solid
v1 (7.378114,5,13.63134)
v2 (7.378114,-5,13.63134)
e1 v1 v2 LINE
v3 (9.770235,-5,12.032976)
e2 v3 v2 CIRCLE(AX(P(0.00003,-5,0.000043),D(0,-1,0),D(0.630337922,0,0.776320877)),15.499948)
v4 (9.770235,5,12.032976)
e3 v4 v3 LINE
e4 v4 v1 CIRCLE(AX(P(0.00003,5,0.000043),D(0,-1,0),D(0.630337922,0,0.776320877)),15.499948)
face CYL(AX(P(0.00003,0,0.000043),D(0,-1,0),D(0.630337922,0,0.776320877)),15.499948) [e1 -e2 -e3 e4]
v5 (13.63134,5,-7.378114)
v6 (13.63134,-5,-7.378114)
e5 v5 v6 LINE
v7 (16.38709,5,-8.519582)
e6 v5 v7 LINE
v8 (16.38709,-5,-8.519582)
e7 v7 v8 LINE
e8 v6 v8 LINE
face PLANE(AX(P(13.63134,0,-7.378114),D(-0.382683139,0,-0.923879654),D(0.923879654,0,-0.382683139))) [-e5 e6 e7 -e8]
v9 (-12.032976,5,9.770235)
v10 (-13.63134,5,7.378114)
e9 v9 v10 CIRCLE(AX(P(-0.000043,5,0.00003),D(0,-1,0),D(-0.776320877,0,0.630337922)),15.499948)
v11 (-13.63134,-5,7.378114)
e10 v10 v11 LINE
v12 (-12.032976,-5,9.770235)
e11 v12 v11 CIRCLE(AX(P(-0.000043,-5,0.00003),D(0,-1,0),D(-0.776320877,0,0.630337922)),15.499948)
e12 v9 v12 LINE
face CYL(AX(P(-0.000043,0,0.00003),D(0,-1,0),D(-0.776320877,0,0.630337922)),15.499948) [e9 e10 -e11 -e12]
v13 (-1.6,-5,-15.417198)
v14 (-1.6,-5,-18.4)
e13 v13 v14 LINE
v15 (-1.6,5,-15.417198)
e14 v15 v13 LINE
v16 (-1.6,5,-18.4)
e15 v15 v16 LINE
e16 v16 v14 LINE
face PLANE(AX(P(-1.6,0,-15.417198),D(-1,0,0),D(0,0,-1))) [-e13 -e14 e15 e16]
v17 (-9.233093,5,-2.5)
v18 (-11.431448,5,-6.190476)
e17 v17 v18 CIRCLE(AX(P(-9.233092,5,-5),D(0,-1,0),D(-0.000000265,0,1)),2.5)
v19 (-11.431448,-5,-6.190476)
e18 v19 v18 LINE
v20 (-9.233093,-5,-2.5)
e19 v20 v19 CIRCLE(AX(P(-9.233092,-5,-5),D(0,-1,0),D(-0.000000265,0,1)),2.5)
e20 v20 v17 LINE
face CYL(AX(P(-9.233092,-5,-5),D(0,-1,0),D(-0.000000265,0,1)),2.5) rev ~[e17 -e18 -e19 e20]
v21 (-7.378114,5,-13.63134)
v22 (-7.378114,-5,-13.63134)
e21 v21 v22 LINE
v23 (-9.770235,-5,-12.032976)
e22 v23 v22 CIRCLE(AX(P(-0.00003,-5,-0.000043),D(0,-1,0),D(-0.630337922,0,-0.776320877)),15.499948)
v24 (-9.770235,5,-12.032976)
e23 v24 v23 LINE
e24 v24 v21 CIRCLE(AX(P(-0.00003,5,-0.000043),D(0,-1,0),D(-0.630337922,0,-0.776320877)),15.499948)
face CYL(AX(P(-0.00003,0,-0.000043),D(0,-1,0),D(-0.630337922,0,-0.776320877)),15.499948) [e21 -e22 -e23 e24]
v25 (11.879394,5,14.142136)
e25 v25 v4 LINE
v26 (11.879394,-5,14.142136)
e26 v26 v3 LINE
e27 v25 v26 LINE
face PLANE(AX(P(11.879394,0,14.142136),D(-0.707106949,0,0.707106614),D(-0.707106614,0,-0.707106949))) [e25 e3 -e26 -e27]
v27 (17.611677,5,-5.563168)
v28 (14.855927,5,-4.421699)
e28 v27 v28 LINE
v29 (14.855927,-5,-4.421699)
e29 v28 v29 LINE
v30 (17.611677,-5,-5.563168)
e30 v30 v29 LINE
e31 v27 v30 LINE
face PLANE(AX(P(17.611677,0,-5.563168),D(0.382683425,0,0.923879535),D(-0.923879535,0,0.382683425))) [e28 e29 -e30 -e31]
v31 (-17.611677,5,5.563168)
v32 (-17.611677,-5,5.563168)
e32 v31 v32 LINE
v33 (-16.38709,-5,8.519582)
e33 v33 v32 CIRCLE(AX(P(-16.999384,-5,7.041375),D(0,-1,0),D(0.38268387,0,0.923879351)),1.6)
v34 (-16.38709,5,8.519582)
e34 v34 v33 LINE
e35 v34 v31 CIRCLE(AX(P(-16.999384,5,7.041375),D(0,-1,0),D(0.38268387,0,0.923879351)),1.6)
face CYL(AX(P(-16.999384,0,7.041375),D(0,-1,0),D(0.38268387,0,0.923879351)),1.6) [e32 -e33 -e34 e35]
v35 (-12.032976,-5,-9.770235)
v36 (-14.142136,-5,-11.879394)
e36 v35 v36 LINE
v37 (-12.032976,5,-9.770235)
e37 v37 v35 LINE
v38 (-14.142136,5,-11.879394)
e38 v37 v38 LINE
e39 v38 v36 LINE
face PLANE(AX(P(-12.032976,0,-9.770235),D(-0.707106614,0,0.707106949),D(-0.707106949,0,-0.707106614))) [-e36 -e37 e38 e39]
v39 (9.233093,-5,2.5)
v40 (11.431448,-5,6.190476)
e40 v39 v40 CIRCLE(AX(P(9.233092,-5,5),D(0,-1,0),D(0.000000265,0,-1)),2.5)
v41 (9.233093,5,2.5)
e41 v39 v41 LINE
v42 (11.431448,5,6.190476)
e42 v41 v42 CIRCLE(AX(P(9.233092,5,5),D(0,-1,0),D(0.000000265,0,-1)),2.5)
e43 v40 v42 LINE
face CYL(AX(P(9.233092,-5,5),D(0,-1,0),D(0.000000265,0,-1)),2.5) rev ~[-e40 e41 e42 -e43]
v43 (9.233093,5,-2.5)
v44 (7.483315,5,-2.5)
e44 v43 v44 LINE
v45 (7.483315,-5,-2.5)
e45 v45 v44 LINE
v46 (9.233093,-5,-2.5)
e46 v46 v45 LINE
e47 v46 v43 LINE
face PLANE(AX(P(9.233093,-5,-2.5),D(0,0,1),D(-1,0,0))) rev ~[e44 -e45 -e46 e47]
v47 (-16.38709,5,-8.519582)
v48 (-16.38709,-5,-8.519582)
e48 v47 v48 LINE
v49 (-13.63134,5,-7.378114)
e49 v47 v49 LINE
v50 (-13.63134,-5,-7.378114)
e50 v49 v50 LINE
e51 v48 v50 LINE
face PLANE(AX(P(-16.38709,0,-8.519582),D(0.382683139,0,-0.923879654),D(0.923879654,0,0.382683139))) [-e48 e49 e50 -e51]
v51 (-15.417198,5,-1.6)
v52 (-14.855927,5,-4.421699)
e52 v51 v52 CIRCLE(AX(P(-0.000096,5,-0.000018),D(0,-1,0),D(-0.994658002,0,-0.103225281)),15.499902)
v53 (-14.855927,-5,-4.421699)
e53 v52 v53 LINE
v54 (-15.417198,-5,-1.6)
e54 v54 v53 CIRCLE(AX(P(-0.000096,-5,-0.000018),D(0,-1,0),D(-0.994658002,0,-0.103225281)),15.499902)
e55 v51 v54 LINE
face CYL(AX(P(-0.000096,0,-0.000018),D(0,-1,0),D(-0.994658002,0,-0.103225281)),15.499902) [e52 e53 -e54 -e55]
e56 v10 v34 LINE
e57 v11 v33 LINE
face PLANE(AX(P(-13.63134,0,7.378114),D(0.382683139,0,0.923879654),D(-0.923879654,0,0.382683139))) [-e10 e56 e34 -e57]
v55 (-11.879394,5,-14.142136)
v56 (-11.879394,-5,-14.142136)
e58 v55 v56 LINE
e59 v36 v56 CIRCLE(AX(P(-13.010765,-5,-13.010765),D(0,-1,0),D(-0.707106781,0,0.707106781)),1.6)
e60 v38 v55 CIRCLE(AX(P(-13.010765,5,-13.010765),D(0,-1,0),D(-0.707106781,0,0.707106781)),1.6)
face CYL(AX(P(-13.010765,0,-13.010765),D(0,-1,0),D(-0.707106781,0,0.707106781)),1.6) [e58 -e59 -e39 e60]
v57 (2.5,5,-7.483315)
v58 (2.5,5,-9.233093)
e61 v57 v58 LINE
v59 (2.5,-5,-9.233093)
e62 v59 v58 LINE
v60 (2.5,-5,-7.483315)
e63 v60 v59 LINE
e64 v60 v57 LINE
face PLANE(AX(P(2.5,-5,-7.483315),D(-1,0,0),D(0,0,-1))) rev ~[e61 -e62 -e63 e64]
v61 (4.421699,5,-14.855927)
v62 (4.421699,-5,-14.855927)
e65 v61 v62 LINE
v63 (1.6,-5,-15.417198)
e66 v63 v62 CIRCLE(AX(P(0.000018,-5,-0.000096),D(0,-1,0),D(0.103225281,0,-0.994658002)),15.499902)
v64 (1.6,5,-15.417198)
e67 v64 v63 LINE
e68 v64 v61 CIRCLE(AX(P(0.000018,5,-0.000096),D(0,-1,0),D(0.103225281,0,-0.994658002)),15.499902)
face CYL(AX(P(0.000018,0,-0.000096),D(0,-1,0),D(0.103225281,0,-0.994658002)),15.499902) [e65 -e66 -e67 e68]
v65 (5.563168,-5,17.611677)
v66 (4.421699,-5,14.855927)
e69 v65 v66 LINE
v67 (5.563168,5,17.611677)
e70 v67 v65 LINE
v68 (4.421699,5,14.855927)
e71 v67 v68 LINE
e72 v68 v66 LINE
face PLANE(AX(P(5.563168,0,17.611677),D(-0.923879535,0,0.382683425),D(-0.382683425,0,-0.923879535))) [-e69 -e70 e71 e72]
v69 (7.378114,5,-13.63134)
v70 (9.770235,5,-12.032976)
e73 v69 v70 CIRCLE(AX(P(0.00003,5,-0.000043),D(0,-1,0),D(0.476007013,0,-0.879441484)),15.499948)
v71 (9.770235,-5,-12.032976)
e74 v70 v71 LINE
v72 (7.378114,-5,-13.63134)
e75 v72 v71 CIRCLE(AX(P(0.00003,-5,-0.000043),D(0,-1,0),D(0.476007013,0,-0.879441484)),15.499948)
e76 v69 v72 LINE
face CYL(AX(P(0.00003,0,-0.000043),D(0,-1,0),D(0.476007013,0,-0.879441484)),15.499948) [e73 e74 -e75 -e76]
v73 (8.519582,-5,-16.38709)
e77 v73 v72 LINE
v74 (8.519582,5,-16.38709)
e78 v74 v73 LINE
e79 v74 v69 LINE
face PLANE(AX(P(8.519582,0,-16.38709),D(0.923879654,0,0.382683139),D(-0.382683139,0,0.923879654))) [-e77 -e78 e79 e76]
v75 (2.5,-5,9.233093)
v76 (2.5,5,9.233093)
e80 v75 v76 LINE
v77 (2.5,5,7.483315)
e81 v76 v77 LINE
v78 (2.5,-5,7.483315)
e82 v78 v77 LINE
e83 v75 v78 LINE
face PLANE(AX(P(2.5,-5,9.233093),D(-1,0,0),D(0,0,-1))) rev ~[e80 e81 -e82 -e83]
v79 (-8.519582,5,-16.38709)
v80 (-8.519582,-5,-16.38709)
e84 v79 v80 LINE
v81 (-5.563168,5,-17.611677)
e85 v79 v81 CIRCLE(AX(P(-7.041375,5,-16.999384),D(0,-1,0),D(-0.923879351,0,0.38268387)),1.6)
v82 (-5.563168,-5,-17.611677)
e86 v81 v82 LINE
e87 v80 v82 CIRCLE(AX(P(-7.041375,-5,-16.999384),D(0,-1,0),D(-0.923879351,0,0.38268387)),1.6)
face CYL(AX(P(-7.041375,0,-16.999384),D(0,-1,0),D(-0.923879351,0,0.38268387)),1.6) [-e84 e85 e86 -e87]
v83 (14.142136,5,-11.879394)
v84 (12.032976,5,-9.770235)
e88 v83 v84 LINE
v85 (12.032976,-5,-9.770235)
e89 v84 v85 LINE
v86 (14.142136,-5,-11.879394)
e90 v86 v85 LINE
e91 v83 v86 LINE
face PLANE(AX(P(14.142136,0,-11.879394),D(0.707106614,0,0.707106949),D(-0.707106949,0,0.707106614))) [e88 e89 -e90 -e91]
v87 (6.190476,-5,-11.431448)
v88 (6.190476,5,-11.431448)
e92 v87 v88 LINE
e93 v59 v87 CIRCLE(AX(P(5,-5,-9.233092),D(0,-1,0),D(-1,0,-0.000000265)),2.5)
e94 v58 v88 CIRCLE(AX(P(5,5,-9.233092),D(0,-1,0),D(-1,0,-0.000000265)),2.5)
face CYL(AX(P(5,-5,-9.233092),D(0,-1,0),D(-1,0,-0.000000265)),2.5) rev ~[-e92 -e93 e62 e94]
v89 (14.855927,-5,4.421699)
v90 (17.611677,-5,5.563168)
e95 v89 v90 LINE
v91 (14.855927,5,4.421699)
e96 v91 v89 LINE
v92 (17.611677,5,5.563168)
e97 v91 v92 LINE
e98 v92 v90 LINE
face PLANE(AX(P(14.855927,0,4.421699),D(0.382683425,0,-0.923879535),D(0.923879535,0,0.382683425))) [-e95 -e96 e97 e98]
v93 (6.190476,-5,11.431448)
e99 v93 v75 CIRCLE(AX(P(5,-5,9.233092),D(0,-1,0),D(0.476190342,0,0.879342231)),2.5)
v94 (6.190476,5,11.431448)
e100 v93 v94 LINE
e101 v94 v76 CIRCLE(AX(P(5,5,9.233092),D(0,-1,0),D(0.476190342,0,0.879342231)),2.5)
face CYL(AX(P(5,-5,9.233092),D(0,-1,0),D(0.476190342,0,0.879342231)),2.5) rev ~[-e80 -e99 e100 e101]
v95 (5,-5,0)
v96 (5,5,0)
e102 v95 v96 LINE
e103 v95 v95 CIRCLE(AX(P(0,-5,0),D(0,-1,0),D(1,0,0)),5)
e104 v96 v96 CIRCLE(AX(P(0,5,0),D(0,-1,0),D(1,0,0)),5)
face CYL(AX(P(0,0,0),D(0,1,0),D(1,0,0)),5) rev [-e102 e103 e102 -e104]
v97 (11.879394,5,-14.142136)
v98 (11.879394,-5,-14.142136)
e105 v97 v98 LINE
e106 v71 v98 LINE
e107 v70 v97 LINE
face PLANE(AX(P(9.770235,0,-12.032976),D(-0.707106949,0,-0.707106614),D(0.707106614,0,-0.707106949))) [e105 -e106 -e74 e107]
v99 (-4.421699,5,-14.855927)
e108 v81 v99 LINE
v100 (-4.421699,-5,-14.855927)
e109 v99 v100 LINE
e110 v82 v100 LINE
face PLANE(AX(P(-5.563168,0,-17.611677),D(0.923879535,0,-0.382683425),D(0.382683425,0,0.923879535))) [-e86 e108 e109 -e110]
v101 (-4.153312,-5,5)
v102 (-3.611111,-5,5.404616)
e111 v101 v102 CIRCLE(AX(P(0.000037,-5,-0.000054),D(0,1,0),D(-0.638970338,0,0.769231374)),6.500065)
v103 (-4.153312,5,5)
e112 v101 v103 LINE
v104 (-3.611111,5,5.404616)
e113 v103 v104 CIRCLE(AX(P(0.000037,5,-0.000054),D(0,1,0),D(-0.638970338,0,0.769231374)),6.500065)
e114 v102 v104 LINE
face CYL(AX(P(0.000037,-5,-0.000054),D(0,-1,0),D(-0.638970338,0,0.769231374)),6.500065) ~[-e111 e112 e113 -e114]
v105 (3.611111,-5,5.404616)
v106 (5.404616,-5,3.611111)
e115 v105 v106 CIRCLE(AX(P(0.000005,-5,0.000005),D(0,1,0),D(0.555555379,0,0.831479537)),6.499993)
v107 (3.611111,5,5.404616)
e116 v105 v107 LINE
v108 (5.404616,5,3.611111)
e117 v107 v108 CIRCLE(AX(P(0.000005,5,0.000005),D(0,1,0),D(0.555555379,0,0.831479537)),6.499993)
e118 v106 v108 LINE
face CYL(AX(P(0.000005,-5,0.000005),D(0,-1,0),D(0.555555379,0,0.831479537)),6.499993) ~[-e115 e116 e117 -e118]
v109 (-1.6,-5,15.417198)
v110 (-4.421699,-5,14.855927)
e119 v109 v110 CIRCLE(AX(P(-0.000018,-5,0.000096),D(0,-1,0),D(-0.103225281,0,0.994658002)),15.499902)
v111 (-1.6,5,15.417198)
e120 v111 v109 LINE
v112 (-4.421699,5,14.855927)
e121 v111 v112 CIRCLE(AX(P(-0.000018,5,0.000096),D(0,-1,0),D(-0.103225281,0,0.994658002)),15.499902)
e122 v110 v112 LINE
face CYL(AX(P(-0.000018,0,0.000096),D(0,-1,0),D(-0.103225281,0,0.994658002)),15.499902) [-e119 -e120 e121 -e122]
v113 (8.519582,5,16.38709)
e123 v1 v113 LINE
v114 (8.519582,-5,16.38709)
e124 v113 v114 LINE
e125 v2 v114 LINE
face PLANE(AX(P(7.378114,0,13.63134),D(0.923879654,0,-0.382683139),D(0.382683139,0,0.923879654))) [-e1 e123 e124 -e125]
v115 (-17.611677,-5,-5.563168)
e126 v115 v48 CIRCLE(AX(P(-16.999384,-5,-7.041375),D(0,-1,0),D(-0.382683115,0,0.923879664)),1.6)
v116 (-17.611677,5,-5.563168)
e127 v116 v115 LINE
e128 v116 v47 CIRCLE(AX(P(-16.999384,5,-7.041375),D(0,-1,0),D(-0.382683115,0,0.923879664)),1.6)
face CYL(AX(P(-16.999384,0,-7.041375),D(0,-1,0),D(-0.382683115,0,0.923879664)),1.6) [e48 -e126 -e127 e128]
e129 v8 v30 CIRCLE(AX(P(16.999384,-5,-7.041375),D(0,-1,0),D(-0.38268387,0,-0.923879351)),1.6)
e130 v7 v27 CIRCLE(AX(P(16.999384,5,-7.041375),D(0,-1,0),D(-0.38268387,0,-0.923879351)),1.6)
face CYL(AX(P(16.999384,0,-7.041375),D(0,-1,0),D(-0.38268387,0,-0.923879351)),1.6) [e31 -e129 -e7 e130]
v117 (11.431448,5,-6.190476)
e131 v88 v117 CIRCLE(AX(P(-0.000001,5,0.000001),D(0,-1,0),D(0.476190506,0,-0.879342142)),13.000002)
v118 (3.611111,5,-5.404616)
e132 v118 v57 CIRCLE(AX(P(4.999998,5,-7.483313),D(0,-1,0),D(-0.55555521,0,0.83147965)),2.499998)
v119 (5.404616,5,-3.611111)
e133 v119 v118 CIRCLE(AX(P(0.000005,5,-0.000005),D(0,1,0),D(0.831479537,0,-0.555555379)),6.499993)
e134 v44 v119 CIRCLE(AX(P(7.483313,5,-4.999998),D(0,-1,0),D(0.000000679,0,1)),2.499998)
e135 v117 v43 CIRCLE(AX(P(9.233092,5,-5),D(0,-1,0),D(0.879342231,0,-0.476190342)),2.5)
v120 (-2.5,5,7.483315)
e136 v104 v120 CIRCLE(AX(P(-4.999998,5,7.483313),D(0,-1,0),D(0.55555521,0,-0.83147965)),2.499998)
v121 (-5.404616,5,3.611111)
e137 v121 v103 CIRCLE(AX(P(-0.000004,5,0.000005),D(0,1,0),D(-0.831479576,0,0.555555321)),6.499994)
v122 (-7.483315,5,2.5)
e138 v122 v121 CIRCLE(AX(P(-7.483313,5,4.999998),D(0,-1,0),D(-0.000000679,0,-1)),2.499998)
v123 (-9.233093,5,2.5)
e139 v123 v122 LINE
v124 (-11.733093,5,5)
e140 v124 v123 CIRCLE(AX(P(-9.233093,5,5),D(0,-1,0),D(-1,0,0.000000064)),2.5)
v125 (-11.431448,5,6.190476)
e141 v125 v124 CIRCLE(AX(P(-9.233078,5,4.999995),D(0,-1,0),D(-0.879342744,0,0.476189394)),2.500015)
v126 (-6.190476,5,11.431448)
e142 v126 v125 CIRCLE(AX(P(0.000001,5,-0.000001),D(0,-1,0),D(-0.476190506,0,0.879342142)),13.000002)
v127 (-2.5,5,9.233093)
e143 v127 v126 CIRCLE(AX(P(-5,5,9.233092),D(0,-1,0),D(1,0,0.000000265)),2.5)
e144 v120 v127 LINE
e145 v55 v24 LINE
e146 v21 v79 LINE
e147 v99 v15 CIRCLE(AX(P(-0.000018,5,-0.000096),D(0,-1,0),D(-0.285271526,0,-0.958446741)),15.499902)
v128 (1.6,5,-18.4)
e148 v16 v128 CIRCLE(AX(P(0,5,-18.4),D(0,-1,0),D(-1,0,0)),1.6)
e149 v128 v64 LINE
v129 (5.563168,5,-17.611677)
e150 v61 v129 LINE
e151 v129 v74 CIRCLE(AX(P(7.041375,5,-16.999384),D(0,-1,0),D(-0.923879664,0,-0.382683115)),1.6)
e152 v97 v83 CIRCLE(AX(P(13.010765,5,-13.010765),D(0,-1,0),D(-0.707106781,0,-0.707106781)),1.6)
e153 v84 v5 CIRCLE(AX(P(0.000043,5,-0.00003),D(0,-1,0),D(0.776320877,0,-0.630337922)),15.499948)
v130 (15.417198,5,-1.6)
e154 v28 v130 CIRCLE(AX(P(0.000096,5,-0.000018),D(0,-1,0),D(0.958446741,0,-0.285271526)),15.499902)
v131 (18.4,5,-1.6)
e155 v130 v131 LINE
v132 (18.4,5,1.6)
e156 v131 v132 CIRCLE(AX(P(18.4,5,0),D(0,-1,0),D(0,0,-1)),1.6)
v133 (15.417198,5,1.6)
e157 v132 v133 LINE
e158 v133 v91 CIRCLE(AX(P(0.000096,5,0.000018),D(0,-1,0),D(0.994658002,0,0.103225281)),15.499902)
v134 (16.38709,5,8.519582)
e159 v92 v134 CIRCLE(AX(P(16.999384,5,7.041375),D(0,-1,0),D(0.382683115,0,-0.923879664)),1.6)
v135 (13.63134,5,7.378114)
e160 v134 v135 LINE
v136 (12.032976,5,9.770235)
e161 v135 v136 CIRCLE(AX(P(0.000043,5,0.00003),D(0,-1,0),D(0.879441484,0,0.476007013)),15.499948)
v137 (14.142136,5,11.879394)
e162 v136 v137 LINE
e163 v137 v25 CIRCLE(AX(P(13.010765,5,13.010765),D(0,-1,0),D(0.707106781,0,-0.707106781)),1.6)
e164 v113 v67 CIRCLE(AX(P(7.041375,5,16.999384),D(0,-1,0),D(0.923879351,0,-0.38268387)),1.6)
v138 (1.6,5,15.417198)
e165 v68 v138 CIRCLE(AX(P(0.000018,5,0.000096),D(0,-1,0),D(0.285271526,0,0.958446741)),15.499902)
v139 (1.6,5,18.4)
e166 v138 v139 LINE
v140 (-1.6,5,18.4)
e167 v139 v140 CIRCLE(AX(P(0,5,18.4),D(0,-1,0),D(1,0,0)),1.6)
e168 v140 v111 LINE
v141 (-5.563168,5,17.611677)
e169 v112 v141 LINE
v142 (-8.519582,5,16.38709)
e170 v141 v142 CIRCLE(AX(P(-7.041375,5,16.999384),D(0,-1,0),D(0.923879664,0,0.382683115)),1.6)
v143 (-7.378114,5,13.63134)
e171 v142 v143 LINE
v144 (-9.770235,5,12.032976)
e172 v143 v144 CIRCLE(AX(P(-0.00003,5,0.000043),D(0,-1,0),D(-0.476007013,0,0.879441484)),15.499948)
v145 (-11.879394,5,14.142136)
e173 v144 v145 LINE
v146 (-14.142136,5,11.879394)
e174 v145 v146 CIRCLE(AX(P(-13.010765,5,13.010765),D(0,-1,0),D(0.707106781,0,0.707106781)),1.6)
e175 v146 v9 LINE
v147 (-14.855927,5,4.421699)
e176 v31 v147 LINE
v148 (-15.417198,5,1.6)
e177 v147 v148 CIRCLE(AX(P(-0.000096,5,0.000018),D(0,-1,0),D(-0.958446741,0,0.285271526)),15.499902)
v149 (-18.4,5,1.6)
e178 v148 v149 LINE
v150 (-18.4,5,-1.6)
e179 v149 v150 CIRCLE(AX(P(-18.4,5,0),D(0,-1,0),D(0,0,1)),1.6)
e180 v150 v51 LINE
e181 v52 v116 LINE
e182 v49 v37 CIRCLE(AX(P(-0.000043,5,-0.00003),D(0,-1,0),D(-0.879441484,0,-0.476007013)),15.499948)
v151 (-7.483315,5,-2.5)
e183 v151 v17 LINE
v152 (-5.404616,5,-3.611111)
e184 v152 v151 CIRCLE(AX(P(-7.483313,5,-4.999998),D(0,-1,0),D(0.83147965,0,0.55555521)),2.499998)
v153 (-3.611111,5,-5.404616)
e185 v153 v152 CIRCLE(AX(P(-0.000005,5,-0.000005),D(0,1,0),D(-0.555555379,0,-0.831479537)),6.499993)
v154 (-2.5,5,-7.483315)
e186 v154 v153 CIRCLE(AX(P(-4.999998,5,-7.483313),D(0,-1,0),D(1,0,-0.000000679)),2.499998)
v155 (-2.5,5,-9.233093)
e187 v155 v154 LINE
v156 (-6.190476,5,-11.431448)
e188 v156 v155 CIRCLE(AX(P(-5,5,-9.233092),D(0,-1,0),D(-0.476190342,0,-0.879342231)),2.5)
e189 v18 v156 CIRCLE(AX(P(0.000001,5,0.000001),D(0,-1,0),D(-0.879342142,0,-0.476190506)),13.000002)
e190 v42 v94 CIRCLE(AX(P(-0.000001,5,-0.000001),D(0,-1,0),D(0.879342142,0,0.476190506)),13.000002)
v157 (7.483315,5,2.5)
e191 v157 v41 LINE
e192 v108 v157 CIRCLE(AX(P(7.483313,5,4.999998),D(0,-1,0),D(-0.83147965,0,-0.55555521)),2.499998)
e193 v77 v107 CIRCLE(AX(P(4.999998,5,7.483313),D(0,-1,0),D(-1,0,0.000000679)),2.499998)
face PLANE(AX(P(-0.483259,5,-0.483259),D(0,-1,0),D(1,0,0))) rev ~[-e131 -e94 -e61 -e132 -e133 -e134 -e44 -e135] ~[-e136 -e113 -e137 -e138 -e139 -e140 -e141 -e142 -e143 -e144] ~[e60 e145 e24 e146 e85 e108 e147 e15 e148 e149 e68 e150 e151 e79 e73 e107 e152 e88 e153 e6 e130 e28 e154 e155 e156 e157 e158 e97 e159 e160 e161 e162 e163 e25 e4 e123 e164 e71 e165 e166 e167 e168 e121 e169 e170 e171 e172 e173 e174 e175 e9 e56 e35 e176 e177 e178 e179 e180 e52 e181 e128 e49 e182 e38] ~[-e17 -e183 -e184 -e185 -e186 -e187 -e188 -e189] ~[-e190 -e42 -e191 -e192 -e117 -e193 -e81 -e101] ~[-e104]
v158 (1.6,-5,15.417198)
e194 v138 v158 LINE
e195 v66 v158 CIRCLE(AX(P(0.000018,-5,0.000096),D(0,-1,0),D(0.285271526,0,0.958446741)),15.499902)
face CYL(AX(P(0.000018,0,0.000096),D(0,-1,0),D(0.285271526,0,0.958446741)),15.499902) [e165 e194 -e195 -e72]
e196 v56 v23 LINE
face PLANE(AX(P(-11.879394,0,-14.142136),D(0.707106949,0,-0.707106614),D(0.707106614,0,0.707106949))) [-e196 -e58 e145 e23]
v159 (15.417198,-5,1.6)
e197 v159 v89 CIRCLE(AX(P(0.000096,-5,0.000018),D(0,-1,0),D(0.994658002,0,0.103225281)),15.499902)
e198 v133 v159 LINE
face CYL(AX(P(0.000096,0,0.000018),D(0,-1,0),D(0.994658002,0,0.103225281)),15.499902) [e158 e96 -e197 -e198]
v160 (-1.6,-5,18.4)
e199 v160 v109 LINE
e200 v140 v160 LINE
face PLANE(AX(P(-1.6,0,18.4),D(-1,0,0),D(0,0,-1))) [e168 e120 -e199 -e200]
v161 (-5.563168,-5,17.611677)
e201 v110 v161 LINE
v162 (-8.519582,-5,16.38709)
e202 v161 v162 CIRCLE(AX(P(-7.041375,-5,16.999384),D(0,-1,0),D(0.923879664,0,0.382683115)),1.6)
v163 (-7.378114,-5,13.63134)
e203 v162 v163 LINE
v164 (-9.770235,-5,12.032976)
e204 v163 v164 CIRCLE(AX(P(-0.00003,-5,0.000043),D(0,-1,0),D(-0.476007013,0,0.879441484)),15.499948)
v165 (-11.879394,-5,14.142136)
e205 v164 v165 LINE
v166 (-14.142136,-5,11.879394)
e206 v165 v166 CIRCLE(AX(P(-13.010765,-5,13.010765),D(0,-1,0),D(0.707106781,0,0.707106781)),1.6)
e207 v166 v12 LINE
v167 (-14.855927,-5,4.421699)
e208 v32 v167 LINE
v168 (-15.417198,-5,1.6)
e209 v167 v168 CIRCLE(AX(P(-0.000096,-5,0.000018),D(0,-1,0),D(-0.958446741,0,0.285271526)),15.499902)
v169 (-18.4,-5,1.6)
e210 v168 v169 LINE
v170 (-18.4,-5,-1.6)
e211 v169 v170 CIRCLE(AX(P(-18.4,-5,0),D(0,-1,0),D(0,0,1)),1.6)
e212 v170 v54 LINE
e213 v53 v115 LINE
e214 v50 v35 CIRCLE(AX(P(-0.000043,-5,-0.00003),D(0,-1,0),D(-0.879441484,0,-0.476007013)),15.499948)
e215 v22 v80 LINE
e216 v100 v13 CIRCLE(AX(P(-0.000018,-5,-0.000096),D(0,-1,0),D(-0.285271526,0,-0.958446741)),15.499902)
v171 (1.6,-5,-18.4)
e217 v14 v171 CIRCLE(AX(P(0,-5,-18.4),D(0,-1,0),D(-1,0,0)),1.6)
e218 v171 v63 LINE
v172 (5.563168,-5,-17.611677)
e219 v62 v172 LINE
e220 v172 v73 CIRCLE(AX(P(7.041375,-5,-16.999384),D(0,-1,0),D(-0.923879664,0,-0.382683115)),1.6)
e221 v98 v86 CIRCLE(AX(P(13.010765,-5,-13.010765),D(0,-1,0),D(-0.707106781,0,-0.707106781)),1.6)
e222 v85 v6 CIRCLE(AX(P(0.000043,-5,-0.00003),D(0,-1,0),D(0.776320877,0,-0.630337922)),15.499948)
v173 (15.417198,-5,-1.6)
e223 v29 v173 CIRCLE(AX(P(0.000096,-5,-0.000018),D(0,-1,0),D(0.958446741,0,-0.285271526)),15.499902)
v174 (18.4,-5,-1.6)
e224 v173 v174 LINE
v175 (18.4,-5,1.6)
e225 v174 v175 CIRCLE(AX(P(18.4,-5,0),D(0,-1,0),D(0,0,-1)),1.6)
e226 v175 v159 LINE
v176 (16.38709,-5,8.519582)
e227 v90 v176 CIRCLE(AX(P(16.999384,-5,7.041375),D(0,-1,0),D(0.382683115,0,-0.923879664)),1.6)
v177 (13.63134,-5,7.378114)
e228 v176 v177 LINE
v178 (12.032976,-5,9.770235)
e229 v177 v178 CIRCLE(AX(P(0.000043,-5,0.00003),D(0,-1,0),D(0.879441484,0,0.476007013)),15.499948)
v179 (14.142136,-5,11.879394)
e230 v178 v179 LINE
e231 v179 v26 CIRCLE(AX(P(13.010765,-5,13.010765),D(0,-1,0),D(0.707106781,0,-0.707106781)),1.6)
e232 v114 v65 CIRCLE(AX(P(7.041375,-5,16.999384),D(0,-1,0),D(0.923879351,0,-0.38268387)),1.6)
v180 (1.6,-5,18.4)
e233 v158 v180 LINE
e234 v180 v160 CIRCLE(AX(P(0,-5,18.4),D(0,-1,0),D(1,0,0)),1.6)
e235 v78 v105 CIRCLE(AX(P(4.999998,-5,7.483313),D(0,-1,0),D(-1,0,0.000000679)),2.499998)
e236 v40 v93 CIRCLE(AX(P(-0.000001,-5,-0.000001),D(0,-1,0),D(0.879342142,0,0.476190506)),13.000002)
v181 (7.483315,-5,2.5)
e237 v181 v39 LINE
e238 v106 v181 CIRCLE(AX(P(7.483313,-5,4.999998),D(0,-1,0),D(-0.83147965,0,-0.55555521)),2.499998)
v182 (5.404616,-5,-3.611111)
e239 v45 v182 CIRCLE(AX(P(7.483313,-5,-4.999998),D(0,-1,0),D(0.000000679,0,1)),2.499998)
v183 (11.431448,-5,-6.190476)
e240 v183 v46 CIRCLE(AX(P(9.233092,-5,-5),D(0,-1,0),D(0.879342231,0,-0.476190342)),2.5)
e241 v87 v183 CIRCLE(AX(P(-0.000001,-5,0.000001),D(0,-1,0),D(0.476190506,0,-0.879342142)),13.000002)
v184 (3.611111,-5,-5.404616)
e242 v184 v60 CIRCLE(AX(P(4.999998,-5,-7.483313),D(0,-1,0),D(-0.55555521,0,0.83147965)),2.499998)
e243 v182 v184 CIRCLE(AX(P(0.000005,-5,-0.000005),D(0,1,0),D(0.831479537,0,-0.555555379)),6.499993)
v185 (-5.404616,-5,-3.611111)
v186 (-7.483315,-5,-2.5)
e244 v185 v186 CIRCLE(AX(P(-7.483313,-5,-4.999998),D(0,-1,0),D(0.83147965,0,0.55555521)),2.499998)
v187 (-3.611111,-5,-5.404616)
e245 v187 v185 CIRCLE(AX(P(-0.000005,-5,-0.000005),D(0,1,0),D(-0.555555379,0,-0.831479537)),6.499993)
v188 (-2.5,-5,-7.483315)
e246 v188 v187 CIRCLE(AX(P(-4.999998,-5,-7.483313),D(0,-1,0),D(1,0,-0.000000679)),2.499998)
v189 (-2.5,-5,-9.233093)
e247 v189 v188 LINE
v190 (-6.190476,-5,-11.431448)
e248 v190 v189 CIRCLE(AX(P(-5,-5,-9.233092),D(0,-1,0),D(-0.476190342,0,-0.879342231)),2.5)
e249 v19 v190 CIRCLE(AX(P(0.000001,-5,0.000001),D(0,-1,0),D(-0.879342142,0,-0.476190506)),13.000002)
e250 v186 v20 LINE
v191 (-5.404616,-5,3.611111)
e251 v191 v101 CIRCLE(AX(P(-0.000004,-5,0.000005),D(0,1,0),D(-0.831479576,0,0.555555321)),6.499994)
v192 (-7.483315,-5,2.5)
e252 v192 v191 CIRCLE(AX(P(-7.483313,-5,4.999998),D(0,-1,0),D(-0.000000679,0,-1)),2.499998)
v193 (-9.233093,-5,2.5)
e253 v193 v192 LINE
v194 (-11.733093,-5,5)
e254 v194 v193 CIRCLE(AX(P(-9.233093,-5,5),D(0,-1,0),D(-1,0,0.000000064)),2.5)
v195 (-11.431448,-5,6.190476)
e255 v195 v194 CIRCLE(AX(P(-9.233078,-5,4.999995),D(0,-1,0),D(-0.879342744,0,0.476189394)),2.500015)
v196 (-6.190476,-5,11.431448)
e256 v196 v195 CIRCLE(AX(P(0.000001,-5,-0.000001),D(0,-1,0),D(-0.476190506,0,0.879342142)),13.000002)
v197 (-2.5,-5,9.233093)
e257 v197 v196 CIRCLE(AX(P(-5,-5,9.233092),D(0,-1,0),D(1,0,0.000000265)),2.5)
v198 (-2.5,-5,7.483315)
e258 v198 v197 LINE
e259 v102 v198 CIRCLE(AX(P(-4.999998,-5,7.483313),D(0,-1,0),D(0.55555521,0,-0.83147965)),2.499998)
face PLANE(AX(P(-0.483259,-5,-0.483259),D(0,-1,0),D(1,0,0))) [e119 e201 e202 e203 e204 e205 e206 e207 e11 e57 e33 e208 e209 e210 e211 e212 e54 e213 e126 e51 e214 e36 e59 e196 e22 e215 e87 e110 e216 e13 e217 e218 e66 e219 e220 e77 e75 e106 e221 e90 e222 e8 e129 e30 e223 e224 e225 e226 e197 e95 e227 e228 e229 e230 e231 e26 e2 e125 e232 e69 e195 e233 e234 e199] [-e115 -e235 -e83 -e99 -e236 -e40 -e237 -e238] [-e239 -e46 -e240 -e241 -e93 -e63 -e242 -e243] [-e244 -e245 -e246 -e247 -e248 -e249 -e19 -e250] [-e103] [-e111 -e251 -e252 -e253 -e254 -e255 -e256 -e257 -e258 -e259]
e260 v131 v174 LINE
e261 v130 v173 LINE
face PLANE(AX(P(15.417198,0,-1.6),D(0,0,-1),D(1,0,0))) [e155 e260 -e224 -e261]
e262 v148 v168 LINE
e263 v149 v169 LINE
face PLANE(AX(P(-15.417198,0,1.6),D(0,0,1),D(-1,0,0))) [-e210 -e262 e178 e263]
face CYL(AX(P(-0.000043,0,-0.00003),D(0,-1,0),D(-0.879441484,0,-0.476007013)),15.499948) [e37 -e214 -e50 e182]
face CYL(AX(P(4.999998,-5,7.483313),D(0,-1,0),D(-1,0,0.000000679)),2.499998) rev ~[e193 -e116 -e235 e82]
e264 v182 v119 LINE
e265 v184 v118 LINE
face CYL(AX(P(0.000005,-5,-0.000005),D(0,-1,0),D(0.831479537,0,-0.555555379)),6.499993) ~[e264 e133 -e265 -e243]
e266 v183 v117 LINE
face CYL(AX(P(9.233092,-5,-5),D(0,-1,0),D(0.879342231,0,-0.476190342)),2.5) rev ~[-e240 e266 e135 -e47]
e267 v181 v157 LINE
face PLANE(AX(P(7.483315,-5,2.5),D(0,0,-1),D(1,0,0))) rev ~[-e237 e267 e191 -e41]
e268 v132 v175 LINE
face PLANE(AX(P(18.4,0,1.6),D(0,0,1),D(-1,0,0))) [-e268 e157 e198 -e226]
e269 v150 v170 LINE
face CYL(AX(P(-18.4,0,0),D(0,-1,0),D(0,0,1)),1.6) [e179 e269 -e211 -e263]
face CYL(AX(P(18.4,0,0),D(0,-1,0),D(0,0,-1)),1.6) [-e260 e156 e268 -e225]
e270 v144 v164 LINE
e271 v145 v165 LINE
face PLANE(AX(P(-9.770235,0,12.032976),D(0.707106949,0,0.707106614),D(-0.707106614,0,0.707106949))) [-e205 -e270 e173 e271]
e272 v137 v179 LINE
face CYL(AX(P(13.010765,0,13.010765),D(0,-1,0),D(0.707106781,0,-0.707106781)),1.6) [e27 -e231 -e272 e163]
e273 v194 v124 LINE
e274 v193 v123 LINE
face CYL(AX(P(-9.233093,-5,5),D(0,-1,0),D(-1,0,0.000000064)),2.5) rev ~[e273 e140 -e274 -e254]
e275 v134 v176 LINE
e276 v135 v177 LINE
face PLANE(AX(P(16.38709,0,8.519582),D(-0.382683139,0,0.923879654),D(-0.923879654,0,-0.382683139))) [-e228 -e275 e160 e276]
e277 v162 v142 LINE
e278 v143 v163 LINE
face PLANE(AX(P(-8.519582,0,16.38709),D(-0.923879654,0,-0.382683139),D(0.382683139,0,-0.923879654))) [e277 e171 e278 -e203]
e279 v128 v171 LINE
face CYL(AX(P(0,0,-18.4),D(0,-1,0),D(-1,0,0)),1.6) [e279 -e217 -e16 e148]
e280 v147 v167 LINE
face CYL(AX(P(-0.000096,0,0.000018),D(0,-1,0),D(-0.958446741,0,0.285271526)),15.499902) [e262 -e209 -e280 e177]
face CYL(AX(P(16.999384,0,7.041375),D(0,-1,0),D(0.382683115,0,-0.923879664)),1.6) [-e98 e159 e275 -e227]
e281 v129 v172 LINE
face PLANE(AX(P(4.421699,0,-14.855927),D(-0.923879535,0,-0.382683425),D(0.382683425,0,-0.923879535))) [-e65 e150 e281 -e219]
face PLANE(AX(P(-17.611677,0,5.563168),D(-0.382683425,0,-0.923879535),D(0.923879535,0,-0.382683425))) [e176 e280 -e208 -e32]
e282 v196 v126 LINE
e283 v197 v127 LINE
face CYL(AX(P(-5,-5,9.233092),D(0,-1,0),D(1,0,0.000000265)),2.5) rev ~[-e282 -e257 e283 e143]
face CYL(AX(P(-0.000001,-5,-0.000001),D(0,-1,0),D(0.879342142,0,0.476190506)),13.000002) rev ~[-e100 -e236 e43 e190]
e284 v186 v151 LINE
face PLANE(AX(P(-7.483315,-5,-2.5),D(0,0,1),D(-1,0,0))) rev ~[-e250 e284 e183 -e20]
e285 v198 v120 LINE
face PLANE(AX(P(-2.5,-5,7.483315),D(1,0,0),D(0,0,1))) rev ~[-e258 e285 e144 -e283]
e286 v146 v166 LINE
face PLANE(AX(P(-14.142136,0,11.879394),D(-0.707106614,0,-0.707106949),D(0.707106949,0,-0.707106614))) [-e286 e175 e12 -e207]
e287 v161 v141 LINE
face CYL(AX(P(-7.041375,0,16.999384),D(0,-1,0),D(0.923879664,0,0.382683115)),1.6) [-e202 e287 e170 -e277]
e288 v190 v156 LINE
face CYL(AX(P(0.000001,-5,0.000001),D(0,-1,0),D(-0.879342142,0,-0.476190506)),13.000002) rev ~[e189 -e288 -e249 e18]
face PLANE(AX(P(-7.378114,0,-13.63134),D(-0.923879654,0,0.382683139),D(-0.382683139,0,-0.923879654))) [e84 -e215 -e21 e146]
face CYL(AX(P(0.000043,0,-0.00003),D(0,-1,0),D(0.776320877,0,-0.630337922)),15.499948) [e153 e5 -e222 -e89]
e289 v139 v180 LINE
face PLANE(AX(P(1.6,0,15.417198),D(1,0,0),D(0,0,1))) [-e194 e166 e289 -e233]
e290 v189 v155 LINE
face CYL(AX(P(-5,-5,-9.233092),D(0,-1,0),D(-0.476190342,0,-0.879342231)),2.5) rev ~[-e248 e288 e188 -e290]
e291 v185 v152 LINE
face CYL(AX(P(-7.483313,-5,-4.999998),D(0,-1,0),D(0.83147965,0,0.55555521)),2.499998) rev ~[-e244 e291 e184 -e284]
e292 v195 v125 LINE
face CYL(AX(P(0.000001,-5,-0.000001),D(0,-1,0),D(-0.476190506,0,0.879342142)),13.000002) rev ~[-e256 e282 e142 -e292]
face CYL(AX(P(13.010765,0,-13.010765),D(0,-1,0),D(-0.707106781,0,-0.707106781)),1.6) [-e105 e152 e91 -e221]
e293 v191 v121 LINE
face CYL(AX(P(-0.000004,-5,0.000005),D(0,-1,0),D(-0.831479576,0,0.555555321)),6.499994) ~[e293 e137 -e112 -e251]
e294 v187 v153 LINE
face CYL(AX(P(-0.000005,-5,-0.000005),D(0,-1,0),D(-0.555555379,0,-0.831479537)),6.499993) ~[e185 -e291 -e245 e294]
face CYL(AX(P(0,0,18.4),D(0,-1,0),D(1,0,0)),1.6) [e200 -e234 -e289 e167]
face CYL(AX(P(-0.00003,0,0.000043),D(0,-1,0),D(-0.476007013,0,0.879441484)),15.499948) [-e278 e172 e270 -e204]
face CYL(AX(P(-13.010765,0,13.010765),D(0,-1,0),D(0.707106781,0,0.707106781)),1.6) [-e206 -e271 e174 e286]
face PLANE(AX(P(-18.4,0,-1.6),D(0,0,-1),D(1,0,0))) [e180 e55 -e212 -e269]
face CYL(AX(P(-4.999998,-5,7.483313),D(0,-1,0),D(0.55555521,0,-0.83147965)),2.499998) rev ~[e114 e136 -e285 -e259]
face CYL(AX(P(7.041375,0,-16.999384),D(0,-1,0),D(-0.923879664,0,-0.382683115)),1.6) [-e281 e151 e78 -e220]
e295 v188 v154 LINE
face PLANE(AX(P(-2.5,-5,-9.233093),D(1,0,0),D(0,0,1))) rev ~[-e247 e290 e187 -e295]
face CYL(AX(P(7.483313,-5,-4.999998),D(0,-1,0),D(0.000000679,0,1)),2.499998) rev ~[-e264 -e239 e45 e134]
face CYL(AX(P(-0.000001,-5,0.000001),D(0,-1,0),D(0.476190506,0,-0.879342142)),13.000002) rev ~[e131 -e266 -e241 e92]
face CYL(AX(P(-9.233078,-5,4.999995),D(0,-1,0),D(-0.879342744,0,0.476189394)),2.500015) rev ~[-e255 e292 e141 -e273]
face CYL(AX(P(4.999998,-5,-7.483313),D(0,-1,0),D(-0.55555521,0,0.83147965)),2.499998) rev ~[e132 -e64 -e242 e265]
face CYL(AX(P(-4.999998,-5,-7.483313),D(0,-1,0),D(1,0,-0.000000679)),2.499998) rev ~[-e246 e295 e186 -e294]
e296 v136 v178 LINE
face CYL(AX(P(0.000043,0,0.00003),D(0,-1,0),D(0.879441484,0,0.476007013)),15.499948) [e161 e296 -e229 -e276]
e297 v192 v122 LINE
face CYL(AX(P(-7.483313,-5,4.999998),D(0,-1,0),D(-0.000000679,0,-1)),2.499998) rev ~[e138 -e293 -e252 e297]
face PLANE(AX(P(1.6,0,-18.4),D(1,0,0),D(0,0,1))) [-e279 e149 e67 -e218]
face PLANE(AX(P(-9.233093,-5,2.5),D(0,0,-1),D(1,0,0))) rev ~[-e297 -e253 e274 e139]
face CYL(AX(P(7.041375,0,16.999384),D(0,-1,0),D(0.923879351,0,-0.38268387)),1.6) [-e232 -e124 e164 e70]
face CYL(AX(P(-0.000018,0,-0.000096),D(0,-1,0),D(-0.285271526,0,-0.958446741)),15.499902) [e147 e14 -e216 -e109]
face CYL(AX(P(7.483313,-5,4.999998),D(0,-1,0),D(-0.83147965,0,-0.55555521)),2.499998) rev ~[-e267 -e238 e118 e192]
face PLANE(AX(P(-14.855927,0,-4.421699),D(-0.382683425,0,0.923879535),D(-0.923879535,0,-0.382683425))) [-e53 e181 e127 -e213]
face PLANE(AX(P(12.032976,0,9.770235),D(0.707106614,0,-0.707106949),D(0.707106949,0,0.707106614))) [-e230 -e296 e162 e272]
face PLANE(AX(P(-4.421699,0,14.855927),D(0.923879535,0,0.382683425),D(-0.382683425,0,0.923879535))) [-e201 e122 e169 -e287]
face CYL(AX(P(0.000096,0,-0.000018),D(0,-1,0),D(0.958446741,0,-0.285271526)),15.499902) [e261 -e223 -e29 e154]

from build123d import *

# Parameters (mm, degrees)
F0_R     = 5
F1_DEPTH = 5
F3_DEPTH = 10


with BuildPart() as f1:
    # F0 (on Front) → F1 (new body, symmetric)
    with BuildSketch(Plane.XZ):
        with BuildLine():
            Line((-8.519582, 16.38709), (-7.378114, 13.63134))
            ThreePointArc((-7.378114, 13.63134), (-8.611339, 12.887779), (-9.770235, 12.032976))
            Line((-9.770235, 12.032976), (-11.879394, 14.142136))
            ThreePointArc((-11.879394, 14.142136), (-14.142136, 14.142136), (-14.142136, 11.879394))
            Line((-14.142136, 11.879394), (-12.032976, 9.770235))
            ThreePointArc((-12.032976, 9.770235), (-12.887779, 8.611339), (-13.63134, 7.378114))
            Line((-13.63134, 7.378114), (-16.38709, 8.519582))
            ThreePointArc((-16.38709, 8.519582), (-18.477591, 7.653669), (-17.611677, 5.563168))
            Line((-17.611677, 5.563168), (-14.855927, 4.421699))
            ThreePointArc((-14.855927, 4.421699), (-15.202172, 3.0239), (-15.417198, 1.6))
            Line((-15.417198, 1.6), (-18.4, 1.6))
            ThreePointArc((-18.4, 1.6), (-20, 0), (-18.4, -1.6))
            Line((-18.4, -1.6), (-15.417198, -1.6))
            ThreePointArc((-15.417198, -1.6), (-15.202172, -3.0239), (-14.855927, -4.421699))
            Line((-14.855927, -4.421699), (-17.611677, -5.563168))
            ThreePointArc((-17.611677, -5.563168), (-18.477591, -7.653669), (-16.38709, -8.519582))
            Line((-16.38709, -8.519582), (-13.63134, -7.378114))
            ThreePointArc((-13.63134, -7.378114), (-12.887779, -8.611339), (-12.032976, -9.770235))
            Line((-12.032976, -9.770235), (-14.142136, -11.879394))
            ThreePointArc((-14.142136, -11.879394), (-14.142136, -14.142136), (-11.879394, -14.142136))
            Line((-11.879394, -14.142136), (-9.770235, -12.032976))
            ThreePointArc((-9.770235, -12.032976), (-8.611339, -12.887779), (-7.378114, -13.63134))
            Line((-7.378114, -13.63134), (-8.519582, -16.38709))
            ThreePointArc((-8.519582, -16.38709), (-7.653669, -18.477591), (-5.563168, -17.611677))
            Line((-5.563168, -17.611677), (-4.421699, -14.855927))
            ThreePointArc((-4.421699, -14.855927), (-3.0239, -15.202172), (-1.6, -15.417198))
            Line((-1.6, -15.417198), (-1.6, -18.4))
            ThreePointArc((-1.6, -18.4), (0, -20), (1.6, -18.4))
            Line((1.6, -18.4), (1.6, -15.417198))
            ThreePointArc((1.6, -15.417198), (3.0239, -15.202172), (4.421699, -14.855927))
            Line((4.421699, -14.855927), (5.563168, -17.611677))
            ThreePointArc((5.563168, -17.611677), (7.653669, -18.477591), (8.519582, -16.38709))
            Line((8.519582, -16.38709), (7.378114, -13.63134))
            ThreePointArc((7.378114, -13.63134), (8.611339, -12.887779), (9.770235, -12.032976))
            Line((9.770235, -12.032976), (11.879394, -14.142136))
            ThreePointArc((11.879394, -14.142136), (14.142136, -14.142136), (14.142136, -11.879394))
            Line((14.142136, -11.879394), (12.032976, -9.770235))
            ThreePointArc((12.032976, -9.770235), (12.887779, -8.611339), (13.63134, -7.378114))
            Line((13.63134, -7.378114), (16.38709, -8.519582))
            ThreePointArc((16.38709, -8.519582), (18.477591, -7.653669), (17.611677, -5.563168))
            Line((17.611677, -5.563168), (14.855927, -4.421699))
            ThreePointArc((14.855927, -4.421699), (15.202172, -3.0239), (15.417198, -1.6))
            Line((15.417198, -1.6), (18.4, -1.6))
            ThreePointArc((18.4, -1.6), (20, 0), (18.4, 1.6))
            Line((18.4, 1.6), (15.417198, 1.6))
            ThreePointArc((15.417198, 1.6), (15.202172, 3.0239), (14.855927, 4.421699))
            Line((14.855927, 4.421699), (17.611677, 5.563168))
            ThreePointArc((17.611677, 5.563168), (18.477591, 7.653669), (16.38709, 8.519582))
            Line((16.38709, 8.519582), (13.63134, 7.378114))
            ThreePointArc((13.63134, 7.378114), (12.887779, 8.611339), (12.032976, 9.770235))
            ThreePointArc((12.032976, 9.770235), (10.960155, 10.960155), (9.770235, 12.032976))
            ThreePointArc((9.770235, 12.032976), (8.611339, 12.887779), (7.378114, 13.63134))
            Line((7.378114, 13.63134), (8.519582, 16.38709))
            ThreePointArc((8.519582, 16.38709), (7.653669, 18.477591), (5.563168, 17.611677))
            Line((5.563168, 17.611677), (4.421699, 14.855927))
            ThreePointArc((4.421699, 14.855927), (3.0239, 15.202172), (1.6, 15.417198))
            Line((1.6, 15.417198), (1.6, 18.4))
            ThreePointArc((1.6, 18.4), (0, 20), (-1.6, 18.4))
            Line((-1.6, 18.4), (-1.6, 15.417198))
            ThreePointArc((-1.6, 15.417198), (-3.0239, 15.202172), (-4.421699, 14.855927))
            Line((-4.421699, 14.855927), (-5.563168, 17.611677))
            ThreePointArc((-5.563168, 17.611677), (-7.653669, 18.477591), (-8.519582, 16.38709))
        make_face()
        Circle(F0_R, mode=Mode.SUBTRACT)
        with BuildLine():
            Line((11.879394, 14.142136), (9.770235, 12.032976))
            ThreePointArc((9.770235, 12.032976), (10.960155, 10.960155), (12.032976, 9.770235))
            Line((12.032976, 9.770235), (14.142136, 11.879394))
            ThreePointArc((14.142136, 11.879394), (14.142136, 14.142136), (11.879394, 14.142136))
        make_face()
    extrude(amount=F1_DEPTH, both=True)

    # F2 (on face) → F3 (cut)
    with BuildSketch(Plane.XZ.offset(5)):
        with BuildLine():
            ThreePointArc((-6.190476, 11.431448), (-9.192388, 9.192388), (-11.431448, 6.190476))
            ThreePointArc((-11.431448, 6.190476), (-11.656508, 5.614049), (-11.733093, 5))
            Line((-11.733093, 5), (-4.153312, 5))
            ThreePointArc((-4.153312, 5), (-3.887479, 5.209367), (-3.611111, 5.404616))
            ThreePointArc((-3.611111, 5.404616), (-2.795207, 6.304803), (-2.5, 7.483315))
            Line((-2.5, 7.483315), (-2.5, 9.233093))
            ThreePointArc((-2.5, 9.233093), (-3.720584, 11.380904), (-6.190476, 11.431448))
        make_face()
        with BuildLine():
            Line((-4.153312, 5), (-11.733093, 5))
            ThreePointArc((-11.733093, 5), (-11.00086, 3.232233), (-9.233093, 2.5))
            Line((-9.233093, 2.5), (-7.483315, 2.5))
            ThreePointArc((-7.483315, 2.5), (-6.304803, 2.795207), (-5.404616, 3.611111))
            ThreePointArc((-5.404616, 3.611111), (-4.829156, 4.350776), (-4.153312, 5))
        make_face()
        with BuildLine():
            ThreePointArc((6.190476, 11.431448), (3.720584, 11.380904), (2.5, 9.233093))
            Line((2.5, 9.233093), (2.5, 7.483315))
            ThreePointArc((2.5, 7.483315), (2.795207, 6.304803), (3.611111, 5.404616))
            ThreePointArc((3.611111, 5.404616), (4.596194, 4.596194), (5.404616, 3.611111))
            ThreePointArc((5.404616, 3.611111), (6.304803, 2.795207), (7.483315, 2.5))
            Line((7.483315, 2.5), (9.233093, 2.5))
            ThreePointArc((9.233093, 2.5), (11.380904, 3.720584), (11.431448, 6.190476))
            ThreePointArc((11.431448, 6.190476), (9.192388, 9.192388), (6.190476, 11.431448))
        make_face()
        with BuildLine():
            Line((-7.483315, -2.5), (-9.233093, -2.5))
            ThreePointArc((-9.233093, -2.5), (-11.380904, -3.720584), (-11.431448, -6.190476))
            ThreePointArc((-11.431448, -6.190476), (-9.192388, -9.192388), (-6.190476, -11.431448))
            ThreePointArc((-6.190476, -11.431448), (-3.720584, -11.380904), (-2.5, -9.233093))
            Line((-2.5, -9.233093), (-2.5, -7.483315))
            ThreePointArc((-2.5, -7.483315), (-2.795207, -6.304803), (-3.611111, -5.404616))
            ThreePointArc((-3.611111, -5.404616), (-4.596194, -4.596194), (-5.404616, -3.611111))
            ThreePointArc((-5.404616, -3.611111), (-6.304803, -2.795207), (-7.483315, -2.5))
        make_face()
        with BuildLine():
            ThreePointArc((5.404616, -3.611111), (4.596194, -4.596194), (3.611111, -5.404616))
            ThreePointArc((3.611111, -5.404616), (2.795207, -6.304803), (2.5, -7.483315))
            Line((2.5, -7.483315), (2.5, -9.233093))
            ThreePointArc((2.5, -9.233093), (3.720584, -11.380904), (6.190476, -11.431448))
            ThreePointArc((6.190476, -11.431448), (9.192388, -9.192388), (11.431448, -6.190476))
            ThreePointArc((11.431448, -6.190476), (11.380904, -3.720584), (9.233093, -2.5))
            Line((9.233093, -2.5), (7.483315, -2.5))
            ThreePointArc((7.483315, -2.5), (6.304803, -2.795207), (5.404616, -3.611111))
        make_face()
    extrude(amount=-F3_DEPTH, mode=Mode.SUBTRACT)


solid = f1.part
